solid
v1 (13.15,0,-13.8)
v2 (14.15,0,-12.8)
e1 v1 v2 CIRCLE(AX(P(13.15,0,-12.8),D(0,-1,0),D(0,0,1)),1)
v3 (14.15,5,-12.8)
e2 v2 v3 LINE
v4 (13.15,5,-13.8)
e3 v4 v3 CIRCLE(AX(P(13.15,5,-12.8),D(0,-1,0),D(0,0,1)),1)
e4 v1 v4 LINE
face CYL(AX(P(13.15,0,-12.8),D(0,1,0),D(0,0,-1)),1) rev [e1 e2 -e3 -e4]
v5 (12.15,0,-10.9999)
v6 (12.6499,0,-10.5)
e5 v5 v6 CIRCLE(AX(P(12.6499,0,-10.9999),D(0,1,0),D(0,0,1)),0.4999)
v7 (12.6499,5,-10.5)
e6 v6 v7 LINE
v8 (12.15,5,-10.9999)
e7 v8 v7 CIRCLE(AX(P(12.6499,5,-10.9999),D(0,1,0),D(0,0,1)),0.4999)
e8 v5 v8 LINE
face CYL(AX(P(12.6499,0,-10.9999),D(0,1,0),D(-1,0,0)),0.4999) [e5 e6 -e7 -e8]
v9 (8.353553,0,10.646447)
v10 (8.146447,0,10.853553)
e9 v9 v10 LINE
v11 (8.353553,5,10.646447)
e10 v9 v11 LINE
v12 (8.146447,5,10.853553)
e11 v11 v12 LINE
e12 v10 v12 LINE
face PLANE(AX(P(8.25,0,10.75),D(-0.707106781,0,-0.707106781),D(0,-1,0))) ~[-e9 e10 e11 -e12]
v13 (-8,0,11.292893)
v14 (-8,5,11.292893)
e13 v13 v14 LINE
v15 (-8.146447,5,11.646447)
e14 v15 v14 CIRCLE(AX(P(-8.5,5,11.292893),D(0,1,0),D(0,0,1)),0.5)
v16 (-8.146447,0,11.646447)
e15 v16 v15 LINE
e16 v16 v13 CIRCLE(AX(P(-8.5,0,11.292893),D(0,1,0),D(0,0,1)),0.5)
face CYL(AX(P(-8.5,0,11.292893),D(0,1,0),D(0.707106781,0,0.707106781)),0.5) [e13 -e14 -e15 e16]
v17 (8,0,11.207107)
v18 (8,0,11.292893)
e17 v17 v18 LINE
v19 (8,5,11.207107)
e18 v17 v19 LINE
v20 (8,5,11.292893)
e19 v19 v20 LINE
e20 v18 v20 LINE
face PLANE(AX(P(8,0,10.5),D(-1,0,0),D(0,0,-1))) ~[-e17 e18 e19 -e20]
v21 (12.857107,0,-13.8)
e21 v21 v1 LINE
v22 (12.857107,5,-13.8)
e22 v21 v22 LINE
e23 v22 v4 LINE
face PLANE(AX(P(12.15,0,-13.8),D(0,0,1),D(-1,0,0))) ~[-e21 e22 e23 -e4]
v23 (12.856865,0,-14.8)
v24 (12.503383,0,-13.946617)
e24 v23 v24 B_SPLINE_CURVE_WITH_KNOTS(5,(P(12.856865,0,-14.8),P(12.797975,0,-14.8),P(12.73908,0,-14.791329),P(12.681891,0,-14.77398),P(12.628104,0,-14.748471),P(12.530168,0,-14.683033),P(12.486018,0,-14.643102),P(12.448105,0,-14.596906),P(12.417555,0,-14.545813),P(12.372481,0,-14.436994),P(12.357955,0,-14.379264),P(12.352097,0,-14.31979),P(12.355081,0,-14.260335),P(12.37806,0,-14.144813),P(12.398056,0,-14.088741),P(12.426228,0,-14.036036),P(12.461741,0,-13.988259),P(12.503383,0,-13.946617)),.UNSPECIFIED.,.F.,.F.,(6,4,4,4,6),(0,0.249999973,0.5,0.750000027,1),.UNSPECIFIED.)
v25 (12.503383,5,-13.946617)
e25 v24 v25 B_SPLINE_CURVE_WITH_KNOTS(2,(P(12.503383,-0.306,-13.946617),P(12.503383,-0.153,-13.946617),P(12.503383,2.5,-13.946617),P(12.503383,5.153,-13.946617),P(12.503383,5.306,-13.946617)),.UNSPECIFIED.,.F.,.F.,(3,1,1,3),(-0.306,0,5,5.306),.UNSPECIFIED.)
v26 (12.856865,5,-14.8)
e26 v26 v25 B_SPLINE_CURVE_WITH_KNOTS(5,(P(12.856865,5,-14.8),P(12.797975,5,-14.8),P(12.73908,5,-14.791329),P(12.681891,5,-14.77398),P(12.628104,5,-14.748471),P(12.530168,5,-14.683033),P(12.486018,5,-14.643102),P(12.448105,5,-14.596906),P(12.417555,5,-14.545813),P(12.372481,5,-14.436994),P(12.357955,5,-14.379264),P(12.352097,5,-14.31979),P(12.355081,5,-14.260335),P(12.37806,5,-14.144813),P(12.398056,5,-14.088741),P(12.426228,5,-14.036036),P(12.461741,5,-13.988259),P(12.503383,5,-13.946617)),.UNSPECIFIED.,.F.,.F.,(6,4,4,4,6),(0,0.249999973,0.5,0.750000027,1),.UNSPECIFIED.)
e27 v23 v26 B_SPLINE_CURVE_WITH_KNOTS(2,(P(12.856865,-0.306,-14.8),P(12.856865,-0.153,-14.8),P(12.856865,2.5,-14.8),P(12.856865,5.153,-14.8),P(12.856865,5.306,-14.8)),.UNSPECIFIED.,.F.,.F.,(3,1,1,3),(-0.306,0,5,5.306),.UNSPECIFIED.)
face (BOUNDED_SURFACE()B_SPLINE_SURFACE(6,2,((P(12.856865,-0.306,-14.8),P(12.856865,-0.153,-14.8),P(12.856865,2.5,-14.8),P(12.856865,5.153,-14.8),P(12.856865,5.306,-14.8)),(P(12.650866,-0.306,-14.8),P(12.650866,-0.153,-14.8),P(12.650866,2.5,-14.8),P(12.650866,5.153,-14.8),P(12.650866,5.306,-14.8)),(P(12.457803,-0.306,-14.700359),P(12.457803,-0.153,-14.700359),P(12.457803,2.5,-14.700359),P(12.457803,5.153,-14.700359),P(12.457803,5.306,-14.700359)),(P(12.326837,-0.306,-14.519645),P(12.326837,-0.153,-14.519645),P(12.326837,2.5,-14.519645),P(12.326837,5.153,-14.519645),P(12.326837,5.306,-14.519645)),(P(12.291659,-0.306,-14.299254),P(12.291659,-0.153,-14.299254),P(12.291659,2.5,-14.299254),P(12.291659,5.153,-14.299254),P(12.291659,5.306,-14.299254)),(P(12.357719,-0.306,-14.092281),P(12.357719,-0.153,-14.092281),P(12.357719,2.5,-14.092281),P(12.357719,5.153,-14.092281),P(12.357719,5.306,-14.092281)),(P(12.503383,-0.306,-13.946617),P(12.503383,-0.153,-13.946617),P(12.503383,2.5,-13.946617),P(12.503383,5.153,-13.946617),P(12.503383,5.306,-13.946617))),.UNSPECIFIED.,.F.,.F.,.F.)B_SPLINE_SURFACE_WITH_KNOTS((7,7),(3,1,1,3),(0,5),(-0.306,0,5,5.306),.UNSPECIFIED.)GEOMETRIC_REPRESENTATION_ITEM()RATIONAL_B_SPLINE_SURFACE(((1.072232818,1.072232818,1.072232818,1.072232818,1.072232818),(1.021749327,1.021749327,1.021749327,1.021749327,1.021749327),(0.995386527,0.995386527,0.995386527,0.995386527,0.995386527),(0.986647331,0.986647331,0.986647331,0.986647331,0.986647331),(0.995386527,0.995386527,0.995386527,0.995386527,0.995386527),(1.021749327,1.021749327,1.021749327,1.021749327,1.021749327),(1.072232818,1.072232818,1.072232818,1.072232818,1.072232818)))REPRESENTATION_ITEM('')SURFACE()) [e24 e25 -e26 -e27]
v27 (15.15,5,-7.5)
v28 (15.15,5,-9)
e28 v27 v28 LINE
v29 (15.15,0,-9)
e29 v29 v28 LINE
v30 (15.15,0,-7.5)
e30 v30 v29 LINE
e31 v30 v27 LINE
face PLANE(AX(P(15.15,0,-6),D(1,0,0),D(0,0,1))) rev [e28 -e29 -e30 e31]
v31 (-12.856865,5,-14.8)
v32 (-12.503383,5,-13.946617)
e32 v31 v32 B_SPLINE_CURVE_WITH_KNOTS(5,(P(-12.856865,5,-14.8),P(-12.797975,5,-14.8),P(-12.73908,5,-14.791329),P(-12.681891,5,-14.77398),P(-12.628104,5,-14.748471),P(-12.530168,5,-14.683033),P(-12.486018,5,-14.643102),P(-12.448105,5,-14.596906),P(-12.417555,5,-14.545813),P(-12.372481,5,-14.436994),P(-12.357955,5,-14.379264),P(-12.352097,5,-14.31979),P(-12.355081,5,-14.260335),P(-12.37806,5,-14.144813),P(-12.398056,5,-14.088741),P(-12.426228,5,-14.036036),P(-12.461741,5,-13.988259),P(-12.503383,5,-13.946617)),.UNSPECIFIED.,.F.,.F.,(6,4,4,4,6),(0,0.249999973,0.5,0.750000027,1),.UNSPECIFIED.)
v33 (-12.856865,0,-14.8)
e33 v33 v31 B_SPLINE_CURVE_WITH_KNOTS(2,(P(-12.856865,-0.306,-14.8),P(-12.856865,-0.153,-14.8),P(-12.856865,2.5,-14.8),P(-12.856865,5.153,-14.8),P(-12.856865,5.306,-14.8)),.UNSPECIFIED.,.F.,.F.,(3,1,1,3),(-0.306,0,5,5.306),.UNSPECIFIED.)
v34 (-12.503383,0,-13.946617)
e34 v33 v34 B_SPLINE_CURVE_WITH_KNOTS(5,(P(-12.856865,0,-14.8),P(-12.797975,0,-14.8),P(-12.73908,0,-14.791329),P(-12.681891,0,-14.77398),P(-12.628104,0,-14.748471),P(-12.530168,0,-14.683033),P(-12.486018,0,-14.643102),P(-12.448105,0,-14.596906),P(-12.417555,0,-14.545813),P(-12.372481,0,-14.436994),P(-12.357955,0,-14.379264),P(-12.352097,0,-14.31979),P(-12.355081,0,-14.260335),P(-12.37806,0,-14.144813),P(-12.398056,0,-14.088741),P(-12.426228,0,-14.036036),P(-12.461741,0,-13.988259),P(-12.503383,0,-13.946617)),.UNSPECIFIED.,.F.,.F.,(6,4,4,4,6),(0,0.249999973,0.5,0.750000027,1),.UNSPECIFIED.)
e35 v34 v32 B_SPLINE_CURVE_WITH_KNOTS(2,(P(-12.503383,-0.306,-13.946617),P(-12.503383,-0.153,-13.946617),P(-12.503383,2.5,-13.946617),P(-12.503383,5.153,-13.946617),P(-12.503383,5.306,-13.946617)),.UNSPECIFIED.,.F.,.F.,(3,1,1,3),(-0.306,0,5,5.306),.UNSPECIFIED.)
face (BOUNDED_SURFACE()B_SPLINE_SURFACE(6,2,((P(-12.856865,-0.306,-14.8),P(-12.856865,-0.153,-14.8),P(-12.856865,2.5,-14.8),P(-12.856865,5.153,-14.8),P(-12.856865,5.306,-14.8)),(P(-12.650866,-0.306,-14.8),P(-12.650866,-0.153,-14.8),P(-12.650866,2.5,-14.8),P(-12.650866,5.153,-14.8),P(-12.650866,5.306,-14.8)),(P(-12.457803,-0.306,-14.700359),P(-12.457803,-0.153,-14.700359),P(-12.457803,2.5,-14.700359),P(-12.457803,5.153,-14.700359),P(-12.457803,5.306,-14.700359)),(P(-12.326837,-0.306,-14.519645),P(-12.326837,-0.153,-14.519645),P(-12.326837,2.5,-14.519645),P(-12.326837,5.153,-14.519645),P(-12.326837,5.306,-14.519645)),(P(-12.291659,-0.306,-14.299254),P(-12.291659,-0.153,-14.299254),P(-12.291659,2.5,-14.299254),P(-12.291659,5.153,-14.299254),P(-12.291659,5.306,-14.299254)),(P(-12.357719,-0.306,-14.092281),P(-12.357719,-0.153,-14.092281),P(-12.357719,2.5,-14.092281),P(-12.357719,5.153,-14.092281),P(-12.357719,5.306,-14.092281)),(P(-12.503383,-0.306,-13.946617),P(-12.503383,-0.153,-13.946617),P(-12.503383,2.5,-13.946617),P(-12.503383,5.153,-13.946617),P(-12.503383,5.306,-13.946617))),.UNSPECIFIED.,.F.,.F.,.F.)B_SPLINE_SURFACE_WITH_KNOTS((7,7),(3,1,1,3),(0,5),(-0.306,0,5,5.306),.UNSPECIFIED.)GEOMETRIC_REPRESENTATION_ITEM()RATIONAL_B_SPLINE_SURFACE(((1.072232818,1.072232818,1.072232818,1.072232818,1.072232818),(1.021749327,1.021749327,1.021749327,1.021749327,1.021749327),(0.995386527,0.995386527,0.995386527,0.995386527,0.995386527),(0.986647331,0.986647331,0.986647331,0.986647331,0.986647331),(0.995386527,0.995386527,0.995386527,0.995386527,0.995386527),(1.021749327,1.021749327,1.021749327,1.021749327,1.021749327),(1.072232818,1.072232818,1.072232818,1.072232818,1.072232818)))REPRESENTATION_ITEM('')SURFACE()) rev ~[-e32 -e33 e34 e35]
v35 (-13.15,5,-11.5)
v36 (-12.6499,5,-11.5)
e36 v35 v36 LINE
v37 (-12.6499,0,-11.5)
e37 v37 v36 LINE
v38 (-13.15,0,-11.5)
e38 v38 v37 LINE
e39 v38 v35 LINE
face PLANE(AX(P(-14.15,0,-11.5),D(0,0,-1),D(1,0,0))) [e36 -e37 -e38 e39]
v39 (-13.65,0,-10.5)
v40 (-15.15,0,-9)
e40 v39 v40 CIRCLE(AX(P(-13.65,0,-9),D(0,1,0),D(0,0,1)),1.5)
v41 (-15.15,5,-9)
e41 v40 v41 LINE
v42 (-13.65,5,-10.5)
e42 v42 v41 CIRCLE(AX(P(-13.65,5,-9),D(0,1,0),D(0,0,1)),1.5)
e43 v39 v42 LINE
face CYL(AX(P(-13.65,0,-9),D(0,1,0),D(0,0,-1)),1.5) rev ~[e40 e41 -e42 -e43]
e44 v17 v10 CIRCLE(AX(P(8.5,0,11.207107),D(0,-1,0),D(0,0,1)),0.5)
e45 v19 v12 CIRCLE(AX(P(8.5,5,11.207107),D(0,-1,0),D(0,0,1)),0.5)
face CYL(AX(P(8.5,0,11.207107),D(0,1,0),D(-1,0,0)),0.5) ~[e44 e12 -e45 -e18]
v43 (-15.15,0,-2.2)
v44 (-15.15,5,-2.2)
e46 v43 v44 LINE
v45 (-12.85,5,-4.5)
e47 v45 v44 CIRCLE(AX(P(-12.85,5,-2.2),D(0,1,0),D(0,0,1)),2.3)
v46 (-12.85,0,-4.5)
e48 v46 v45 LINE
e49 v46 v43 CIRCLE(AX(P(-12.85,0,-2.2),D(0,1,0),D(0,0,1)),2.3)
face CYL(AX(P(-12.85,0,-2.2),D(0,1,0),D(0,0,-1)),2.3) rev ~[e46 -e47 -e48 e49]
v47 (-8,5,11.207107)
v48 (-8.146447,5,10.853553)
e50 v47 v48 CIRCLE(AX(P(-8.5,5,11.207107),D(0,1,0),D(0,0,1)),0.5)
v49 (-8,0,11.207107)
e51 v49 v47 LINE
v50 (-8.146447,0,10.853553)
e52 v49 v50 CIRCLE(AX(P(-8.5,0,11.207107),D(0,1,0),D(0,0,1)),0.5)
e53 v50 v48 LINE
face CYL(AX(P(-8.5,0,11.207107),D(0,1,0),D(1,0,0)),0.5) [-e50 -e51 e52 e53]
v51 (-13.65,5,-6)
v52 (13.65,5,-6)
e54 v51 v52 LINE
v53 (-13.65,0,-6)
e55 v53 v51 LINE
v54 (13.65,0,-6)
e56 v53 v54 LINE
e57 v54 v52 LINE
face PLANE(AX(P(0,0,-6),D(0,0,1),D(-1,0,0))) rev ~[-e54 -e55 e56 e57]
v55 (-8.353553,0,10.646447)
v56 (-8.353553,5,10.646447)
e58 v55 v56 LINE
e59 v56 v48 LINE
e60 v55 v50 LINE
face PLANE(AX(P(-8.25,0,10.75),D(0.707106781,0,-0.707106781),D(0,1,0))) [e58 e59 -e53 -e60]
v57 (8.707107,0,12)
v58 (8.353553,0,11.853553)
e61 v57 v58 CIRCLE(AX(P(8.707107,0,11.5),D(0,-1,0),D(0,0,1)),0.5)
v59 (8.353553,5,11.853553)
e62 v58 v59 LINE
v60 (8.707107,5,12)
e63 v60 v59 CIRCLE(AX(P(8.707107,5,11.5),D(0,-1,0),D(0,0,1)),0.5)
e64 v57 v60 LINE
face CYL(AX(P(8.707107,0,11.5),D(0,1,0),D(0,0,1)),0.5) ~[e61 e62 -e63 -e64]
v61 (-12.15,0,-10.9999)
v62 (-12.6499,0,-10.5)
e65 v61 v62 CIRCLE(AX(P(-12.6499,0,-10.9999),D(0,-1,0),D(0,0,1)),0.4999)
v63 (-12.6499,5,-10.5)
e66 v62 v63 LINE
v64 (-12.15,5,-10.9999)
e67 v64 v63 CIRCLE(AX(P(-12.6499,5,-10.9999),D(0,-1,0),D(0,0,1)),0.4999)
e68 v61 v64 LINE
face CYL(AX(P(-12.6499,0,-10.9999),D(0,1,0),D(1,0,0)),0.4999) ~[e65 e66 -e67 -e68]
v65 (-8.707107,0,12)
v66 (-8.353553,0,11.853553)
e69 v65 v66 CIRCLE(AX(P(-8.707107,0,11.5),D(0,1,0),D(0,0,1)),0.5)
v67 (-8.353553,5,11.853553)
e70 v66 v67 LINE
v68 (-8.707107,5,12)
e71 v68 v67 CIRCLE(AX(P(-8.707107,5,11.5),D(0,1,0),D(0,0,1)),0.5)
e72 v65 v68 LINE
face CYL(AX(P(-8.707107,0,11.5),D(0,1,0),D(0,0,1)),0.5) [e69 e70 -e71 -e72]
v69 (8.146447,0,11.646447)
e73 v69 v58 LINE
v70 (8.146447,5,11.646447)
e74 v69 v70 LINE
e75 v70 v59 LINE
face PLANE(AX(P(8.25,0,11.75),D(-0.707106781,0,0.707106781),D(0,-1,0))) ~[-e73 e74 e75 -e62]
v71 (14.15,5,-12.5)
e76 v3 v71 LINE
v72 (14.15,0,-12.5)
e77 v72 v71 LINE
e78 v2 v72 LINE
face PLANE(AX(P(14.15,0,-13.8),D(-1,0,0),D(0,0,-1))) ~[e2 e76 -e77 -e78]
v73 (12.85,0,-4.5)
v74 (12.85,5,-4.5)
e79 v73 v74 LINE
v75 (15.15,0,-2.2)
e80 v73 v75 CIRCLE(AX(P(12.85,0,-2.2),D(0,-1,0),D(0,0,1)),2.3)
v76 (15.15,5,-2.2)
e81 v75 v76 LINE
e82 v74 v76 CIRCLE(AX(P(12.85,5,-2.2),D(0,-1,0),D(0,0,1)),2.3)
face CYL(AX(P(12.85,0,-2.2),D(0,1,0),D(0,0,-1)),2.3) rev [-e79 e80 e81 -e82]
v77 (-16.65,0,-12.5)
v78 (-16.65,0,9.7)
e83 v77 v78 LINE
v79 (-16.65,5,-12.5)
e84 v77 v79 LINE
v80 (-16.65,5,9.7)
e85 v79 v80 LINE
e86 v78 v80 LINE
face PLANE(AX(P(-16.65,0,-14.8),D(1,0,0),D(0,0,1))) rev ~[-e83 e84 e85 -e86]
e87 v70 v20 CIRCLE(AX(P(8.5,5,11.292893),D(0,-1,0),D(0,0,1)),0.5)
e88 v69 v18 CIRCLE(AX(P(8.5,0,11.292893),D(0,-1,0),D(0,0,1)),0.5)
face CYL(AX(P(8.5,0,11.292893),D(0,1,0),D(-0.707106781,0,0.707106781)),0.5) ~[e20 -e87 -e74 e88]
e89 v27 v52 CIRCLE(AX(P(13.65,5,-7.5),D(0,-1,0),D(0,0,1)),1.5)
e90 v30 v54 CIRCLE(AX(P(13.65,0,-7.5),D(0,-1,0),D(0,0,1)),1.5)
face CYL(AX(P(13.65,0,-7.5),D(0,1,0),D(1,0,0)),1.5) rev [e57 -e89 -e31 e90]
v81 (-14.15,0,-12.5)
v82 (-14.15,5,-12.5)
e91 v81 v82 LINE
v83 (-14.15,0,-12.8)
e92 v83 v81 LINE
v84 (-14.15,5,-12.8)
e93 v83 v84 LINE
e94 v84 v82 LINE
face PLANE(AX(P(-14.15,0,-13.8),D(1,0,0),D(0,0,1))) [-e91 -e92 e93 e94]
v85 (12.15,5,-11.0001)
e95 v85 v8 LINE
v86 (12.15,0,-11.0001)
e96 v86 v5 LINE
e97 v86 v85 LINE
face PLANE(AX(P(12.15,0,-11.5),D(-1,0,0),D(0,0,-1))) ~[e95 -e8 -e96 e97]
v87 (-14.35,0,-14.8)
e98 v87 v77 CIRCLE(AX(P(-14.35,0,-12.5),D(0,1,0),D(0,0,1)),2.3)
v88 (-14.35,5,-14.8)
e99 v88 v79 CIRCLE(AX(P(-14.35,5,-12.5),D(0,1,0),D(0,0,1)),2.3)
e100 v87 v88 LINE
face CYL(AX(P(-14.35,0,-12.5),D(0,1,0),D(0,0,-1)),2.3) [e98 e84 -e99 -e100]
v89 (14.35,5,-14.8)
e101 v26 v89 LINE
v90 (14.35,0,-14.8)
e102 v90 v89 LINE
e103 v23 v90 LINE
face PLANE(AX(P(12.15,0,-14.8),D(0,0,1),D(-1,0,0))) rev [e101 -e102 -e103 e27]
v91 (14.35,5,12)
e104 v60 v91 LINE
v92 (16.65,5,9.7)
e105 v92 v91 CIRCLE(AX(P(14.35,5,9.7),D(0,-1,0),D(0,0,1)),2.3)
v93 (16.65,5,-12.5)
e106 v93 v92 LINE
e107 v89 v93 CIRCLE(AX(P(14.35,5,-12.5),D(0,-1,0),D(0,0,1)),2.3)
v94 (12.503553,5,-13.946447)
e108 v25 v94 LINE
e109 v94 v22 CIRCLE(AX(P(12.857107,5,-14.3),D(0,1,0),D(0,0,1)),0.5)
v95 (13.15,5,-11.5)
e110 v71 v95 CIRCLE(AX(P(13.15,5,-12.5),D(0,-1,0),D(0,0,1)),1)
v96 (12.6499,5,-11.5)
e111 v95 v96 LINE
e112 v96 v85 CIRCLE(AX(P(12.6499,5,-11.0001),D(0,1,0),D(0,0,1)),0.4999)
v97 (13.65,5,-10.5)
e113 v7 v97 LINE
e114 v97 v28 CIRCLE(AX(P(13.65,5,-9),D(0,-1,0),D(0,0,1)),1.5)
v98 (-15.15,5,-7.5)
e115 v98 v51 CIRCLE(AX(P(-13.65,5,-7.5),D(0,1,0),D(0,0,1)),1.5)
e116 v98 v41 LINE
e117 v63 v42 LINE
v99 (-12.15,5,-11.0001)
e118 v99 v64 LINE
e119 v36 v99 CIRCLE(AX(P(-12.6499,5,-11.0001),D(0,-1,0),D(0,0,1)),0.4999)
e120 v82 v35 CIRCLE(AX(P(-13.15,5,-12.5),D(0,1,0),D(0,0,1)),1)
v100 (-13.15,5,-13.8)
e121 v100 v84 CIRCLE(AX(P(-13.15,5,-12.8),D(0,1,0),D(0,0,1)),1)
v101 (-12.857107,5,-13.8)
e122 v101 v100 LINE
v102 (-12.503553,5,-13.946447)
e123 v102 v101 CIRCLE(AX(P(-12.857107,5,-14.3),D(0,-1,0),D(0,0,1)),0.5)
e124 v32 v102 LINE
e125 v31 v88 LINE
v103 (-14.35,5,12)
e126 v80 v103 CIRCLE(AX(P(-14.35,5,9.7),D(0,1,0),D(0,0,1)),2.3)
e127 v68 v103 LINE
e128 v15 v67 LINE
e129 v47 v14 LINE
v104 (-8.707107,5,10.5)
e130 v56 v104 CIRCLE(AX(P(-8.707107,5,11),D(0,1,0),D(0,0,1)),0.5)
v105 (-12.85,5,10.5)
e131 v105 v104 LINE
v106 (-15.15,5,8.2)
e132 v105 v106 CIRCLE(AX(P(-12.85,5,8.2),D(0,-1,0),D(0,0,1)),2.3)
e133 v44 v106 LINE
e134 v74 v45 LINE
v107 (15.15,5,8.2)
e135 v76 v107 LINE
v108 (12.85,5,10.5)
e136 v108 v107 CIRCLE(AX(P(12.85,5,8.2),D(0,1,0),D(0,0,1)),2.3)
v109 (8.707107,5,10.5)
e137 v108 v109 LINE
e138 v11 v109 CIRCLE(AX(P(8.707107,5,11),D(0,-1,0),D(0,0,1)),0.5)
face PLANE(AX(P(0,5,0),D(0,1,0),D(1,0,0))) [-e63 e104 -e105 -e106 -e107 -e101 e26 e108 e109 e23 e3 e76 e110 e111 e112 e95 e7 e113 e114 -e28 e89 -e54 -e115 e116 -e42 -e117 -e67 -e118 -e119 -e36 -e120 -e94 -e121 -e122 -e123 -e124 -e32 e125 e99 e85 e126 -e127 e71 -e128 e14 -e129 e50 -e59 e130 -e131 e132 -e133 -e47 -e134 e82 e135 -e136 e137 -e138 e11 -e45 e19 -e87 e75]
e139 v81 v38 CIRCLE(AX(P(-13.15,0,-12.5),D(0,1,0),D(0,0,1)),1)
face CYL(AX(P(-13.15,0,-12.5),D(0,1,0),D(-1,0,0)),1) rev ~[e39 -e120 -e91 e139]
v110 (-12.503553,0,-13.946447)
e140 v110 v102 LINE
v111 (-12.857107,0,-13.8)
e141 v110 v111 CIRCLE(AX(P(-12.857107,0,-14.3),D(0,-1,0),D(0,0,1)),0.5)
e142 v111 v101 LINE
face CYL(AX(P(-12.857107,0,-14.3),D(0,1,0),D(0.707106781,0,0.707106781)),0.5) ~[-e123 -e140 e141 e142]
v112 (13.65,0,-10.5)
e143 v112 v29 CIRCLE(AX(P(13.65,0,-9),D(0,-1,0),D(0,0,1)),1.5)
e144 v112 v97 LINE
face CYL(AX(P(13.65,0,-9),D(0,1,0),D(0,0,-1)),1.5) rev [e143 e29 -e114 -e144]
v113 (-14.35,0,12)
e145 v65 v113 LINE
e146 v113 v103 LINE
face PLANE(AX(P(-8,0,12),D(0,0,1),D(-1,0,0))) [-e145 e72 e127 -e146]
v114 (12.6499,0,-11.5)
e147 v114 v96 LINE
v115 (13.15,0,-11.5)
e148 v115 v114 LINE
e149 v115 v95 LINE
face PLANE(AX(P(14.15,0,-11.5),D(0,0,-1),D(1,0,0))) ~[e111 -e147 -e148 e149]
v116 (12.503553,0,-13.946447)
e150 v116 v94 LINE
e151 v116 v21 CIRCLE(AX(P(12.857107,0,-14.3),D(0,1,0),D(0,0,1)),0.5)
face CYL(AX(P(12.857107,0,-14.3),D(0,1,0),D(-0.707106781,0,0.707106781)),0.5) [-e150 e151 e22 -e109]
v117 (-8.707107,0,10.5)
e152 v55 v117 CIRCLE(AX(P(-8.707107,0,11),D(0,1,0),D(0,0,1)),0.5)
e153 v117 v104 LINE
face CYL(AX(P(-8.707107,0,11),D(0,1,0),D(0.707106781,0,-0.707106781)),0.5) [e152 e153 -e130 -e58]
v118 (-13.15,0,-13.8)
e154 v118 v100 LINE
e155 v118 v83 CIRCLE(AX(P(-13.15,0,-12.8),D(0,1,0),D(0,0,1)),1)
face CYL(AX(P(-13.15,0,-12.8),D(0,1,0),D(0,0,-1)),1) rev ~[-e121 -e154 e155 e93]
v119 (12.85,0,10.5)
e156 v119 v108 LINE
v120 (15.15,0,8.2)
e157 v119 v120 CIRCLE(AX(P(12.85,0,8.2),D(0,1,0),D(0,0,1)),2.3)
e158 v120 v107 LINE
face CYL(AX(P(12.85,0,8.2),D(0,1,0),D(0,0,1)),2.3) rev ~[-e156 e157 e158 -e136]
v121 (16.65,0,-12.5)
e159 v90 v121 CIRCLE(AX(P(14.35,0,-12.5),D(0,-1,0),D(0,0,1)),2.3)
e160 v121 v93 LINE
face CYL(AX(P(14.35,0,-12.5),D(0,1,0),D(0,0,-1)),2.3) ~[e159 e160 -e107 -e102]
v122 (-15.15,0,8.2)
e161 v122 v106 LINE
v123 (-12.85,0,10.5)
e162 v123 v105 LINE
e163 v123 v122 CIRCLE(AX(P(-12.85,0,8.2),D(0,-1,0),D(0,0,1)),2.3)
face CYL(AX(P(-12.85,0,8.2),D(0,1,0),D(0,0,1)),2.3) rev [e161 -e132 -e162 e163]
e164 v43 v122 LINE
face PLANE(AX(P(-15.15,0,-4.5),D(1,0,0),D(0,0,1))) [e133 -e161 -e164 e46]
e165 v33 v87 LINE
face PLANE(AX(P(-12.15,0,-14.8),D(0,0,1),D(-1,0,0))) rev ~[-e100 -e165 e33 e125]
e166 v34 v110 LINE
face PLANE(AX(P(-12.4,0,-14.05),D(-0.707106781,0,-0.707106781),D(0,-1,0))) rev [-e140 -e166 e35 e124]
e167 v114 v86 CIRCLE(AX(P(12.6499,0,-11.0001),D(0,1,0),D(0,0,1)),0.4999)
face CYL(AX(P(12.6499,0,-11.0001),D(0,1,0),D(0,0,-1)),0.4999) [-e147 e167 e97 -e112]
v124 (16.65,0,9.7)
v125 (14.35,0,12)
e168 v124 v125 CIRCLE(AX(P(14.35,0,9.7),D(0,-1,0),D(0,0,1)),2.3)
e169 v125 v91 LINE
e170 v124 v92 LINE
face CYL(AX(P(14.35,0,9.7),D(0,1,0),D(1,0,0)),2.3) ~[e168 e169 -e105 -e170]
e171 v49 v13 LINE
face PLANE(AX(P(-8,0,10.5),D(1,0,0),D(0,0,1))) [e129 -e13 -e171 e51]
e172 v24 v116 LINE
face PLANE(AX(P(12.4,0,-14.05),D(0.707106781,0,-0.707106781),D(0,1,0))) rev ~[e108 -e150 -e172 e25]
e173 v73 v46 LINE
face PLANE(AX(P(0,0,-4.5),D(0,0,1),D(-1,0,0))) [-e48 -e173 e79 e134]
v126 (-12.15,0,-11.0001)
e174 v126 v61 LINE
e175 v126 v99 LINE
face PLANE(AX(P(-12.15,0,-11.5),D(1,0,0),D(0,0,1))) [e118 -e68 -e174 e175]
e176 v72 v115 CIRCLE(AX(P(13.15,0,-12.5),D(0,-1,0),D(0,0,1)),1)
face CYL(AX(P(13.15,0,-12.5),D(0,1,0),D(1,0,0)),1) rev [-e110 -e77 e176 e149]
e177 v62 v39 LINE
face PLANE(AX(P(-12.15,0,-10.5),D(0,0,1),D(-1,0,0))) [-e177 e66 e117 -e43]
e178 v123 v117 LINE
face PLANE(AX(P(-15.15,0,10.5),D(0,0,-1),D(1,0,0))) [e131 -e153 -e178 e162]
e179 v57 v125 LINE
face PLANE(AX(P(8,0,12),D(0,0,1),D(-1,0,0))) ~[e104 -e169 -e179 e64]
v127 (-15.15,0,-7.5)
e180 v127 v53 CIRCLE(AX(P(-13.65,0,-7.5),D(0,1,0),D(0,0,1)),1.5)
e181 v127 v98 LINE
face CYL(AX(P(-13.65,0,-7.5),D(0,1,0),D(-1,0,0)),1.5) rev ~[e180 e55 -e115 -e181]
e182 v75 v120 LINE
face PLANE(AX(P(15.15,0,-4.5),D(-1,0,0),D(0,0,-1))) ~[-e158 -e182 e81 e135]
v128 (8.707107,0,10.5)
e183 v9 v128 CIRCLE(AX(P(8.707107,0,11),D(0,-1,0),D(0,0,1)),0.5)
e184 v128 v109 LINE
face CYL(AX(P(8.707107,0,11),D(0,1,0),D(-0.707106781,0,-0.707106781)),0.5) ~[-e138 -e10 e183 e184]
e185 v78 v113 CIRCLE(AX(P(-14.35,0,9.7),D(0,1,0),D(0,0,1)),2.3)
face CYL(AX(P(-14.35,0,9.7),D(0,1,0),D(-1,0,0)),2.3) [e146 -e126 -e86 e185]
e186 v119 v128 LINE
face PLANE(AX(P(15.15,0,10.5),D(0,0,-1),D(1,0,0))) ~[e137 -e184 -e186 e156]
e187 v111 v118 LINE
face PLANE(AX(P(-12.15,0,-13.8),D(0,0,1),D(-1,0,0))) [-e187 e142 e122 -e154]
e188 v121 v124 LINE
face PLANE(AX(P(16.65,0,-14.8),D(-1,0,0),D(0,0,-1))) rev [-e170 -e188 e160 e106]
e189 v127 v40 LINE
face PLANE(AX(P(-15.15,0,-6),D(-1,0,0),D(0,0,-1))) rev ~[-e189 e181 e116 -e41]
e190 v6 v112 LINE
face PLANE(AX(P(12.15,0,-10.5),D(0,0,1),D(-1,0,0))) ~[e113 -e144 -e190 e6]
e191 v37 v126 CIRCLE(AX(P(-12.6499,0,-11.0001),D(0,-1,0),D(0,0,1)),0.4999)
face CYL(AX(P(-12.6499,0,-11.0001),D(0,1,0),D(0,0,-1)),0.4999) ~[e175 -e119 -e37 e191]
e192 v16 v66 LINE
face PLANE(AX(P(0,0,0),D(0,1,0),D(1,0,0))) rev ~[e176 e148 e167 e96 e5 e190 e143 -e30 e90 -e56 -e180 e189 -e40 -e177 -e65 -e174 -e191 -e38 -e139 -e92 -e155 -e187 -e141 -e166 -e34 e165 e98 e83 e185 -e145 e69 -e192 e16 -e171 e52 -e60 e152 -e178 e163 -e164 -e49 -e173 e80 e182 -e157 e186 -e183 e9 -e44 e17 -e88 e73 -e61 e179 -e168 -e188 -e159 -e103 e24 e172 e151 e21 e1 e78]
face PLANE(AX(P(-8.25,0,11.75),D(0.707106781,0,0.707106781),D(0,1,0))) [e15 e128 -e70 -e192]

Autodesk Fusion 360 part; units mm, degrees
sketch "Sketch1" plane through (0, 0, 0) normal (0, 1, 0) x (1, 0, 0)
  line L0 (-12.15, 14.8) -> (-16.65, 14.8)
  line L1 (-16.65, 14.8) -> (-12.15, 14.8)
  line L2 (-12.15, 13.8) -> (-14.15, 13.8)
  line L3 (-15.15, -10.5) -> (-8, -10.5)
  line L4 (-8, -10.5) -> (-8, -12)
  line L5 (-8, -12) -> (-16.65, -12)
  line L6 (-12.15, 13.8) -> (-12.15, 14.8)
  line L7 (-14.15, 13.8) -> (-14.15, 11.5)
  line L8 (-14.15, 11.5) -> (-12.15, 11.5)
  line L9 (-12.15, 11.5) -> (-12.15, 10.5)
  line L10 (-12.15, 10.5) -> (-15.15, 10.5)
  line L11 (-16.65, 14.8) -> (-16.65, -12)
  line L12 (0, 6) -> (-15.15, 6)
  line L13 (-15.15, 6) -> (-15.15, 10.5)
  line L14 (0, 6) -> (0, 4.5)
  line L15 (0, 4.5) -> (-15.15, 4.5)
  line L16 (-15.15, 4.5) -> (-15.15, -10.5)
  dimension "d1" = 2.3
  dimension "d2" = 1
  dimension "d3" = 1
  dimension "d5" = 2
  dimension "d8" = 1.5
  dimension "d11" = 8
  dimension "d13" = 10.5
  dimension "d14" = 10.5
  dimension "d17" = 1
  dimension "d28" = 1.5
  dimension "d29" = 1.5
  dimension "d30" = 4.5
  dimension "d34" = 14.15
extrude "Extrude1" add sketch "Sketch1" along normal blind 5 makes body 1
chamfer "Chamfer1" distance 0.5 angle 45 3 edges at (-12.15, 2.5, -13.8) (-8, 2.5, 12) (-8, 2.5, 10.5) on bodies 1
fillet "Fillet1" radius 0.5 6 edges at (-8, 2.5, 11.5) (-8, 2.5, 11) (-8.5, 2.5, 12) (-8.5, 2.5, 10.5) (-12.15, 2.5, -14.3) (-12.65, 2.5, -13.8) on bodies 1
fillet "Fillet2" radius 2.3 4 edges at (-16.65, 2.5, 12) (-16.65, 2.5, -14.8) (-15.15, 2.5, -4.5) (-15.15, 2.5, 10.5) on bodies 1
fillet "Fillet3" radius 0.5 3 edges at (-12.15, 2.5, -14.8) (-12.15, 2.5, -11.5) (-12.15, 2.5, -10.5) on bodies 1
fillet "Fillet4" radius 1 2 edges at (-14.15, 2.5, -13.8) (-14.15, 2.5, -11.5) on bodies 1
fillet "Fillet5" radius 1.5 2 edges at (-15.15, 2.5, -10.5) (-15.15, 2.5, -6) on bodies 1
mirror "Mirror1" about plane through (0, 0, -6) normal (1, 0, 0) of bodies 1 makes body 2
combine "Combine1" operation add target body 1 tool bodies 2
